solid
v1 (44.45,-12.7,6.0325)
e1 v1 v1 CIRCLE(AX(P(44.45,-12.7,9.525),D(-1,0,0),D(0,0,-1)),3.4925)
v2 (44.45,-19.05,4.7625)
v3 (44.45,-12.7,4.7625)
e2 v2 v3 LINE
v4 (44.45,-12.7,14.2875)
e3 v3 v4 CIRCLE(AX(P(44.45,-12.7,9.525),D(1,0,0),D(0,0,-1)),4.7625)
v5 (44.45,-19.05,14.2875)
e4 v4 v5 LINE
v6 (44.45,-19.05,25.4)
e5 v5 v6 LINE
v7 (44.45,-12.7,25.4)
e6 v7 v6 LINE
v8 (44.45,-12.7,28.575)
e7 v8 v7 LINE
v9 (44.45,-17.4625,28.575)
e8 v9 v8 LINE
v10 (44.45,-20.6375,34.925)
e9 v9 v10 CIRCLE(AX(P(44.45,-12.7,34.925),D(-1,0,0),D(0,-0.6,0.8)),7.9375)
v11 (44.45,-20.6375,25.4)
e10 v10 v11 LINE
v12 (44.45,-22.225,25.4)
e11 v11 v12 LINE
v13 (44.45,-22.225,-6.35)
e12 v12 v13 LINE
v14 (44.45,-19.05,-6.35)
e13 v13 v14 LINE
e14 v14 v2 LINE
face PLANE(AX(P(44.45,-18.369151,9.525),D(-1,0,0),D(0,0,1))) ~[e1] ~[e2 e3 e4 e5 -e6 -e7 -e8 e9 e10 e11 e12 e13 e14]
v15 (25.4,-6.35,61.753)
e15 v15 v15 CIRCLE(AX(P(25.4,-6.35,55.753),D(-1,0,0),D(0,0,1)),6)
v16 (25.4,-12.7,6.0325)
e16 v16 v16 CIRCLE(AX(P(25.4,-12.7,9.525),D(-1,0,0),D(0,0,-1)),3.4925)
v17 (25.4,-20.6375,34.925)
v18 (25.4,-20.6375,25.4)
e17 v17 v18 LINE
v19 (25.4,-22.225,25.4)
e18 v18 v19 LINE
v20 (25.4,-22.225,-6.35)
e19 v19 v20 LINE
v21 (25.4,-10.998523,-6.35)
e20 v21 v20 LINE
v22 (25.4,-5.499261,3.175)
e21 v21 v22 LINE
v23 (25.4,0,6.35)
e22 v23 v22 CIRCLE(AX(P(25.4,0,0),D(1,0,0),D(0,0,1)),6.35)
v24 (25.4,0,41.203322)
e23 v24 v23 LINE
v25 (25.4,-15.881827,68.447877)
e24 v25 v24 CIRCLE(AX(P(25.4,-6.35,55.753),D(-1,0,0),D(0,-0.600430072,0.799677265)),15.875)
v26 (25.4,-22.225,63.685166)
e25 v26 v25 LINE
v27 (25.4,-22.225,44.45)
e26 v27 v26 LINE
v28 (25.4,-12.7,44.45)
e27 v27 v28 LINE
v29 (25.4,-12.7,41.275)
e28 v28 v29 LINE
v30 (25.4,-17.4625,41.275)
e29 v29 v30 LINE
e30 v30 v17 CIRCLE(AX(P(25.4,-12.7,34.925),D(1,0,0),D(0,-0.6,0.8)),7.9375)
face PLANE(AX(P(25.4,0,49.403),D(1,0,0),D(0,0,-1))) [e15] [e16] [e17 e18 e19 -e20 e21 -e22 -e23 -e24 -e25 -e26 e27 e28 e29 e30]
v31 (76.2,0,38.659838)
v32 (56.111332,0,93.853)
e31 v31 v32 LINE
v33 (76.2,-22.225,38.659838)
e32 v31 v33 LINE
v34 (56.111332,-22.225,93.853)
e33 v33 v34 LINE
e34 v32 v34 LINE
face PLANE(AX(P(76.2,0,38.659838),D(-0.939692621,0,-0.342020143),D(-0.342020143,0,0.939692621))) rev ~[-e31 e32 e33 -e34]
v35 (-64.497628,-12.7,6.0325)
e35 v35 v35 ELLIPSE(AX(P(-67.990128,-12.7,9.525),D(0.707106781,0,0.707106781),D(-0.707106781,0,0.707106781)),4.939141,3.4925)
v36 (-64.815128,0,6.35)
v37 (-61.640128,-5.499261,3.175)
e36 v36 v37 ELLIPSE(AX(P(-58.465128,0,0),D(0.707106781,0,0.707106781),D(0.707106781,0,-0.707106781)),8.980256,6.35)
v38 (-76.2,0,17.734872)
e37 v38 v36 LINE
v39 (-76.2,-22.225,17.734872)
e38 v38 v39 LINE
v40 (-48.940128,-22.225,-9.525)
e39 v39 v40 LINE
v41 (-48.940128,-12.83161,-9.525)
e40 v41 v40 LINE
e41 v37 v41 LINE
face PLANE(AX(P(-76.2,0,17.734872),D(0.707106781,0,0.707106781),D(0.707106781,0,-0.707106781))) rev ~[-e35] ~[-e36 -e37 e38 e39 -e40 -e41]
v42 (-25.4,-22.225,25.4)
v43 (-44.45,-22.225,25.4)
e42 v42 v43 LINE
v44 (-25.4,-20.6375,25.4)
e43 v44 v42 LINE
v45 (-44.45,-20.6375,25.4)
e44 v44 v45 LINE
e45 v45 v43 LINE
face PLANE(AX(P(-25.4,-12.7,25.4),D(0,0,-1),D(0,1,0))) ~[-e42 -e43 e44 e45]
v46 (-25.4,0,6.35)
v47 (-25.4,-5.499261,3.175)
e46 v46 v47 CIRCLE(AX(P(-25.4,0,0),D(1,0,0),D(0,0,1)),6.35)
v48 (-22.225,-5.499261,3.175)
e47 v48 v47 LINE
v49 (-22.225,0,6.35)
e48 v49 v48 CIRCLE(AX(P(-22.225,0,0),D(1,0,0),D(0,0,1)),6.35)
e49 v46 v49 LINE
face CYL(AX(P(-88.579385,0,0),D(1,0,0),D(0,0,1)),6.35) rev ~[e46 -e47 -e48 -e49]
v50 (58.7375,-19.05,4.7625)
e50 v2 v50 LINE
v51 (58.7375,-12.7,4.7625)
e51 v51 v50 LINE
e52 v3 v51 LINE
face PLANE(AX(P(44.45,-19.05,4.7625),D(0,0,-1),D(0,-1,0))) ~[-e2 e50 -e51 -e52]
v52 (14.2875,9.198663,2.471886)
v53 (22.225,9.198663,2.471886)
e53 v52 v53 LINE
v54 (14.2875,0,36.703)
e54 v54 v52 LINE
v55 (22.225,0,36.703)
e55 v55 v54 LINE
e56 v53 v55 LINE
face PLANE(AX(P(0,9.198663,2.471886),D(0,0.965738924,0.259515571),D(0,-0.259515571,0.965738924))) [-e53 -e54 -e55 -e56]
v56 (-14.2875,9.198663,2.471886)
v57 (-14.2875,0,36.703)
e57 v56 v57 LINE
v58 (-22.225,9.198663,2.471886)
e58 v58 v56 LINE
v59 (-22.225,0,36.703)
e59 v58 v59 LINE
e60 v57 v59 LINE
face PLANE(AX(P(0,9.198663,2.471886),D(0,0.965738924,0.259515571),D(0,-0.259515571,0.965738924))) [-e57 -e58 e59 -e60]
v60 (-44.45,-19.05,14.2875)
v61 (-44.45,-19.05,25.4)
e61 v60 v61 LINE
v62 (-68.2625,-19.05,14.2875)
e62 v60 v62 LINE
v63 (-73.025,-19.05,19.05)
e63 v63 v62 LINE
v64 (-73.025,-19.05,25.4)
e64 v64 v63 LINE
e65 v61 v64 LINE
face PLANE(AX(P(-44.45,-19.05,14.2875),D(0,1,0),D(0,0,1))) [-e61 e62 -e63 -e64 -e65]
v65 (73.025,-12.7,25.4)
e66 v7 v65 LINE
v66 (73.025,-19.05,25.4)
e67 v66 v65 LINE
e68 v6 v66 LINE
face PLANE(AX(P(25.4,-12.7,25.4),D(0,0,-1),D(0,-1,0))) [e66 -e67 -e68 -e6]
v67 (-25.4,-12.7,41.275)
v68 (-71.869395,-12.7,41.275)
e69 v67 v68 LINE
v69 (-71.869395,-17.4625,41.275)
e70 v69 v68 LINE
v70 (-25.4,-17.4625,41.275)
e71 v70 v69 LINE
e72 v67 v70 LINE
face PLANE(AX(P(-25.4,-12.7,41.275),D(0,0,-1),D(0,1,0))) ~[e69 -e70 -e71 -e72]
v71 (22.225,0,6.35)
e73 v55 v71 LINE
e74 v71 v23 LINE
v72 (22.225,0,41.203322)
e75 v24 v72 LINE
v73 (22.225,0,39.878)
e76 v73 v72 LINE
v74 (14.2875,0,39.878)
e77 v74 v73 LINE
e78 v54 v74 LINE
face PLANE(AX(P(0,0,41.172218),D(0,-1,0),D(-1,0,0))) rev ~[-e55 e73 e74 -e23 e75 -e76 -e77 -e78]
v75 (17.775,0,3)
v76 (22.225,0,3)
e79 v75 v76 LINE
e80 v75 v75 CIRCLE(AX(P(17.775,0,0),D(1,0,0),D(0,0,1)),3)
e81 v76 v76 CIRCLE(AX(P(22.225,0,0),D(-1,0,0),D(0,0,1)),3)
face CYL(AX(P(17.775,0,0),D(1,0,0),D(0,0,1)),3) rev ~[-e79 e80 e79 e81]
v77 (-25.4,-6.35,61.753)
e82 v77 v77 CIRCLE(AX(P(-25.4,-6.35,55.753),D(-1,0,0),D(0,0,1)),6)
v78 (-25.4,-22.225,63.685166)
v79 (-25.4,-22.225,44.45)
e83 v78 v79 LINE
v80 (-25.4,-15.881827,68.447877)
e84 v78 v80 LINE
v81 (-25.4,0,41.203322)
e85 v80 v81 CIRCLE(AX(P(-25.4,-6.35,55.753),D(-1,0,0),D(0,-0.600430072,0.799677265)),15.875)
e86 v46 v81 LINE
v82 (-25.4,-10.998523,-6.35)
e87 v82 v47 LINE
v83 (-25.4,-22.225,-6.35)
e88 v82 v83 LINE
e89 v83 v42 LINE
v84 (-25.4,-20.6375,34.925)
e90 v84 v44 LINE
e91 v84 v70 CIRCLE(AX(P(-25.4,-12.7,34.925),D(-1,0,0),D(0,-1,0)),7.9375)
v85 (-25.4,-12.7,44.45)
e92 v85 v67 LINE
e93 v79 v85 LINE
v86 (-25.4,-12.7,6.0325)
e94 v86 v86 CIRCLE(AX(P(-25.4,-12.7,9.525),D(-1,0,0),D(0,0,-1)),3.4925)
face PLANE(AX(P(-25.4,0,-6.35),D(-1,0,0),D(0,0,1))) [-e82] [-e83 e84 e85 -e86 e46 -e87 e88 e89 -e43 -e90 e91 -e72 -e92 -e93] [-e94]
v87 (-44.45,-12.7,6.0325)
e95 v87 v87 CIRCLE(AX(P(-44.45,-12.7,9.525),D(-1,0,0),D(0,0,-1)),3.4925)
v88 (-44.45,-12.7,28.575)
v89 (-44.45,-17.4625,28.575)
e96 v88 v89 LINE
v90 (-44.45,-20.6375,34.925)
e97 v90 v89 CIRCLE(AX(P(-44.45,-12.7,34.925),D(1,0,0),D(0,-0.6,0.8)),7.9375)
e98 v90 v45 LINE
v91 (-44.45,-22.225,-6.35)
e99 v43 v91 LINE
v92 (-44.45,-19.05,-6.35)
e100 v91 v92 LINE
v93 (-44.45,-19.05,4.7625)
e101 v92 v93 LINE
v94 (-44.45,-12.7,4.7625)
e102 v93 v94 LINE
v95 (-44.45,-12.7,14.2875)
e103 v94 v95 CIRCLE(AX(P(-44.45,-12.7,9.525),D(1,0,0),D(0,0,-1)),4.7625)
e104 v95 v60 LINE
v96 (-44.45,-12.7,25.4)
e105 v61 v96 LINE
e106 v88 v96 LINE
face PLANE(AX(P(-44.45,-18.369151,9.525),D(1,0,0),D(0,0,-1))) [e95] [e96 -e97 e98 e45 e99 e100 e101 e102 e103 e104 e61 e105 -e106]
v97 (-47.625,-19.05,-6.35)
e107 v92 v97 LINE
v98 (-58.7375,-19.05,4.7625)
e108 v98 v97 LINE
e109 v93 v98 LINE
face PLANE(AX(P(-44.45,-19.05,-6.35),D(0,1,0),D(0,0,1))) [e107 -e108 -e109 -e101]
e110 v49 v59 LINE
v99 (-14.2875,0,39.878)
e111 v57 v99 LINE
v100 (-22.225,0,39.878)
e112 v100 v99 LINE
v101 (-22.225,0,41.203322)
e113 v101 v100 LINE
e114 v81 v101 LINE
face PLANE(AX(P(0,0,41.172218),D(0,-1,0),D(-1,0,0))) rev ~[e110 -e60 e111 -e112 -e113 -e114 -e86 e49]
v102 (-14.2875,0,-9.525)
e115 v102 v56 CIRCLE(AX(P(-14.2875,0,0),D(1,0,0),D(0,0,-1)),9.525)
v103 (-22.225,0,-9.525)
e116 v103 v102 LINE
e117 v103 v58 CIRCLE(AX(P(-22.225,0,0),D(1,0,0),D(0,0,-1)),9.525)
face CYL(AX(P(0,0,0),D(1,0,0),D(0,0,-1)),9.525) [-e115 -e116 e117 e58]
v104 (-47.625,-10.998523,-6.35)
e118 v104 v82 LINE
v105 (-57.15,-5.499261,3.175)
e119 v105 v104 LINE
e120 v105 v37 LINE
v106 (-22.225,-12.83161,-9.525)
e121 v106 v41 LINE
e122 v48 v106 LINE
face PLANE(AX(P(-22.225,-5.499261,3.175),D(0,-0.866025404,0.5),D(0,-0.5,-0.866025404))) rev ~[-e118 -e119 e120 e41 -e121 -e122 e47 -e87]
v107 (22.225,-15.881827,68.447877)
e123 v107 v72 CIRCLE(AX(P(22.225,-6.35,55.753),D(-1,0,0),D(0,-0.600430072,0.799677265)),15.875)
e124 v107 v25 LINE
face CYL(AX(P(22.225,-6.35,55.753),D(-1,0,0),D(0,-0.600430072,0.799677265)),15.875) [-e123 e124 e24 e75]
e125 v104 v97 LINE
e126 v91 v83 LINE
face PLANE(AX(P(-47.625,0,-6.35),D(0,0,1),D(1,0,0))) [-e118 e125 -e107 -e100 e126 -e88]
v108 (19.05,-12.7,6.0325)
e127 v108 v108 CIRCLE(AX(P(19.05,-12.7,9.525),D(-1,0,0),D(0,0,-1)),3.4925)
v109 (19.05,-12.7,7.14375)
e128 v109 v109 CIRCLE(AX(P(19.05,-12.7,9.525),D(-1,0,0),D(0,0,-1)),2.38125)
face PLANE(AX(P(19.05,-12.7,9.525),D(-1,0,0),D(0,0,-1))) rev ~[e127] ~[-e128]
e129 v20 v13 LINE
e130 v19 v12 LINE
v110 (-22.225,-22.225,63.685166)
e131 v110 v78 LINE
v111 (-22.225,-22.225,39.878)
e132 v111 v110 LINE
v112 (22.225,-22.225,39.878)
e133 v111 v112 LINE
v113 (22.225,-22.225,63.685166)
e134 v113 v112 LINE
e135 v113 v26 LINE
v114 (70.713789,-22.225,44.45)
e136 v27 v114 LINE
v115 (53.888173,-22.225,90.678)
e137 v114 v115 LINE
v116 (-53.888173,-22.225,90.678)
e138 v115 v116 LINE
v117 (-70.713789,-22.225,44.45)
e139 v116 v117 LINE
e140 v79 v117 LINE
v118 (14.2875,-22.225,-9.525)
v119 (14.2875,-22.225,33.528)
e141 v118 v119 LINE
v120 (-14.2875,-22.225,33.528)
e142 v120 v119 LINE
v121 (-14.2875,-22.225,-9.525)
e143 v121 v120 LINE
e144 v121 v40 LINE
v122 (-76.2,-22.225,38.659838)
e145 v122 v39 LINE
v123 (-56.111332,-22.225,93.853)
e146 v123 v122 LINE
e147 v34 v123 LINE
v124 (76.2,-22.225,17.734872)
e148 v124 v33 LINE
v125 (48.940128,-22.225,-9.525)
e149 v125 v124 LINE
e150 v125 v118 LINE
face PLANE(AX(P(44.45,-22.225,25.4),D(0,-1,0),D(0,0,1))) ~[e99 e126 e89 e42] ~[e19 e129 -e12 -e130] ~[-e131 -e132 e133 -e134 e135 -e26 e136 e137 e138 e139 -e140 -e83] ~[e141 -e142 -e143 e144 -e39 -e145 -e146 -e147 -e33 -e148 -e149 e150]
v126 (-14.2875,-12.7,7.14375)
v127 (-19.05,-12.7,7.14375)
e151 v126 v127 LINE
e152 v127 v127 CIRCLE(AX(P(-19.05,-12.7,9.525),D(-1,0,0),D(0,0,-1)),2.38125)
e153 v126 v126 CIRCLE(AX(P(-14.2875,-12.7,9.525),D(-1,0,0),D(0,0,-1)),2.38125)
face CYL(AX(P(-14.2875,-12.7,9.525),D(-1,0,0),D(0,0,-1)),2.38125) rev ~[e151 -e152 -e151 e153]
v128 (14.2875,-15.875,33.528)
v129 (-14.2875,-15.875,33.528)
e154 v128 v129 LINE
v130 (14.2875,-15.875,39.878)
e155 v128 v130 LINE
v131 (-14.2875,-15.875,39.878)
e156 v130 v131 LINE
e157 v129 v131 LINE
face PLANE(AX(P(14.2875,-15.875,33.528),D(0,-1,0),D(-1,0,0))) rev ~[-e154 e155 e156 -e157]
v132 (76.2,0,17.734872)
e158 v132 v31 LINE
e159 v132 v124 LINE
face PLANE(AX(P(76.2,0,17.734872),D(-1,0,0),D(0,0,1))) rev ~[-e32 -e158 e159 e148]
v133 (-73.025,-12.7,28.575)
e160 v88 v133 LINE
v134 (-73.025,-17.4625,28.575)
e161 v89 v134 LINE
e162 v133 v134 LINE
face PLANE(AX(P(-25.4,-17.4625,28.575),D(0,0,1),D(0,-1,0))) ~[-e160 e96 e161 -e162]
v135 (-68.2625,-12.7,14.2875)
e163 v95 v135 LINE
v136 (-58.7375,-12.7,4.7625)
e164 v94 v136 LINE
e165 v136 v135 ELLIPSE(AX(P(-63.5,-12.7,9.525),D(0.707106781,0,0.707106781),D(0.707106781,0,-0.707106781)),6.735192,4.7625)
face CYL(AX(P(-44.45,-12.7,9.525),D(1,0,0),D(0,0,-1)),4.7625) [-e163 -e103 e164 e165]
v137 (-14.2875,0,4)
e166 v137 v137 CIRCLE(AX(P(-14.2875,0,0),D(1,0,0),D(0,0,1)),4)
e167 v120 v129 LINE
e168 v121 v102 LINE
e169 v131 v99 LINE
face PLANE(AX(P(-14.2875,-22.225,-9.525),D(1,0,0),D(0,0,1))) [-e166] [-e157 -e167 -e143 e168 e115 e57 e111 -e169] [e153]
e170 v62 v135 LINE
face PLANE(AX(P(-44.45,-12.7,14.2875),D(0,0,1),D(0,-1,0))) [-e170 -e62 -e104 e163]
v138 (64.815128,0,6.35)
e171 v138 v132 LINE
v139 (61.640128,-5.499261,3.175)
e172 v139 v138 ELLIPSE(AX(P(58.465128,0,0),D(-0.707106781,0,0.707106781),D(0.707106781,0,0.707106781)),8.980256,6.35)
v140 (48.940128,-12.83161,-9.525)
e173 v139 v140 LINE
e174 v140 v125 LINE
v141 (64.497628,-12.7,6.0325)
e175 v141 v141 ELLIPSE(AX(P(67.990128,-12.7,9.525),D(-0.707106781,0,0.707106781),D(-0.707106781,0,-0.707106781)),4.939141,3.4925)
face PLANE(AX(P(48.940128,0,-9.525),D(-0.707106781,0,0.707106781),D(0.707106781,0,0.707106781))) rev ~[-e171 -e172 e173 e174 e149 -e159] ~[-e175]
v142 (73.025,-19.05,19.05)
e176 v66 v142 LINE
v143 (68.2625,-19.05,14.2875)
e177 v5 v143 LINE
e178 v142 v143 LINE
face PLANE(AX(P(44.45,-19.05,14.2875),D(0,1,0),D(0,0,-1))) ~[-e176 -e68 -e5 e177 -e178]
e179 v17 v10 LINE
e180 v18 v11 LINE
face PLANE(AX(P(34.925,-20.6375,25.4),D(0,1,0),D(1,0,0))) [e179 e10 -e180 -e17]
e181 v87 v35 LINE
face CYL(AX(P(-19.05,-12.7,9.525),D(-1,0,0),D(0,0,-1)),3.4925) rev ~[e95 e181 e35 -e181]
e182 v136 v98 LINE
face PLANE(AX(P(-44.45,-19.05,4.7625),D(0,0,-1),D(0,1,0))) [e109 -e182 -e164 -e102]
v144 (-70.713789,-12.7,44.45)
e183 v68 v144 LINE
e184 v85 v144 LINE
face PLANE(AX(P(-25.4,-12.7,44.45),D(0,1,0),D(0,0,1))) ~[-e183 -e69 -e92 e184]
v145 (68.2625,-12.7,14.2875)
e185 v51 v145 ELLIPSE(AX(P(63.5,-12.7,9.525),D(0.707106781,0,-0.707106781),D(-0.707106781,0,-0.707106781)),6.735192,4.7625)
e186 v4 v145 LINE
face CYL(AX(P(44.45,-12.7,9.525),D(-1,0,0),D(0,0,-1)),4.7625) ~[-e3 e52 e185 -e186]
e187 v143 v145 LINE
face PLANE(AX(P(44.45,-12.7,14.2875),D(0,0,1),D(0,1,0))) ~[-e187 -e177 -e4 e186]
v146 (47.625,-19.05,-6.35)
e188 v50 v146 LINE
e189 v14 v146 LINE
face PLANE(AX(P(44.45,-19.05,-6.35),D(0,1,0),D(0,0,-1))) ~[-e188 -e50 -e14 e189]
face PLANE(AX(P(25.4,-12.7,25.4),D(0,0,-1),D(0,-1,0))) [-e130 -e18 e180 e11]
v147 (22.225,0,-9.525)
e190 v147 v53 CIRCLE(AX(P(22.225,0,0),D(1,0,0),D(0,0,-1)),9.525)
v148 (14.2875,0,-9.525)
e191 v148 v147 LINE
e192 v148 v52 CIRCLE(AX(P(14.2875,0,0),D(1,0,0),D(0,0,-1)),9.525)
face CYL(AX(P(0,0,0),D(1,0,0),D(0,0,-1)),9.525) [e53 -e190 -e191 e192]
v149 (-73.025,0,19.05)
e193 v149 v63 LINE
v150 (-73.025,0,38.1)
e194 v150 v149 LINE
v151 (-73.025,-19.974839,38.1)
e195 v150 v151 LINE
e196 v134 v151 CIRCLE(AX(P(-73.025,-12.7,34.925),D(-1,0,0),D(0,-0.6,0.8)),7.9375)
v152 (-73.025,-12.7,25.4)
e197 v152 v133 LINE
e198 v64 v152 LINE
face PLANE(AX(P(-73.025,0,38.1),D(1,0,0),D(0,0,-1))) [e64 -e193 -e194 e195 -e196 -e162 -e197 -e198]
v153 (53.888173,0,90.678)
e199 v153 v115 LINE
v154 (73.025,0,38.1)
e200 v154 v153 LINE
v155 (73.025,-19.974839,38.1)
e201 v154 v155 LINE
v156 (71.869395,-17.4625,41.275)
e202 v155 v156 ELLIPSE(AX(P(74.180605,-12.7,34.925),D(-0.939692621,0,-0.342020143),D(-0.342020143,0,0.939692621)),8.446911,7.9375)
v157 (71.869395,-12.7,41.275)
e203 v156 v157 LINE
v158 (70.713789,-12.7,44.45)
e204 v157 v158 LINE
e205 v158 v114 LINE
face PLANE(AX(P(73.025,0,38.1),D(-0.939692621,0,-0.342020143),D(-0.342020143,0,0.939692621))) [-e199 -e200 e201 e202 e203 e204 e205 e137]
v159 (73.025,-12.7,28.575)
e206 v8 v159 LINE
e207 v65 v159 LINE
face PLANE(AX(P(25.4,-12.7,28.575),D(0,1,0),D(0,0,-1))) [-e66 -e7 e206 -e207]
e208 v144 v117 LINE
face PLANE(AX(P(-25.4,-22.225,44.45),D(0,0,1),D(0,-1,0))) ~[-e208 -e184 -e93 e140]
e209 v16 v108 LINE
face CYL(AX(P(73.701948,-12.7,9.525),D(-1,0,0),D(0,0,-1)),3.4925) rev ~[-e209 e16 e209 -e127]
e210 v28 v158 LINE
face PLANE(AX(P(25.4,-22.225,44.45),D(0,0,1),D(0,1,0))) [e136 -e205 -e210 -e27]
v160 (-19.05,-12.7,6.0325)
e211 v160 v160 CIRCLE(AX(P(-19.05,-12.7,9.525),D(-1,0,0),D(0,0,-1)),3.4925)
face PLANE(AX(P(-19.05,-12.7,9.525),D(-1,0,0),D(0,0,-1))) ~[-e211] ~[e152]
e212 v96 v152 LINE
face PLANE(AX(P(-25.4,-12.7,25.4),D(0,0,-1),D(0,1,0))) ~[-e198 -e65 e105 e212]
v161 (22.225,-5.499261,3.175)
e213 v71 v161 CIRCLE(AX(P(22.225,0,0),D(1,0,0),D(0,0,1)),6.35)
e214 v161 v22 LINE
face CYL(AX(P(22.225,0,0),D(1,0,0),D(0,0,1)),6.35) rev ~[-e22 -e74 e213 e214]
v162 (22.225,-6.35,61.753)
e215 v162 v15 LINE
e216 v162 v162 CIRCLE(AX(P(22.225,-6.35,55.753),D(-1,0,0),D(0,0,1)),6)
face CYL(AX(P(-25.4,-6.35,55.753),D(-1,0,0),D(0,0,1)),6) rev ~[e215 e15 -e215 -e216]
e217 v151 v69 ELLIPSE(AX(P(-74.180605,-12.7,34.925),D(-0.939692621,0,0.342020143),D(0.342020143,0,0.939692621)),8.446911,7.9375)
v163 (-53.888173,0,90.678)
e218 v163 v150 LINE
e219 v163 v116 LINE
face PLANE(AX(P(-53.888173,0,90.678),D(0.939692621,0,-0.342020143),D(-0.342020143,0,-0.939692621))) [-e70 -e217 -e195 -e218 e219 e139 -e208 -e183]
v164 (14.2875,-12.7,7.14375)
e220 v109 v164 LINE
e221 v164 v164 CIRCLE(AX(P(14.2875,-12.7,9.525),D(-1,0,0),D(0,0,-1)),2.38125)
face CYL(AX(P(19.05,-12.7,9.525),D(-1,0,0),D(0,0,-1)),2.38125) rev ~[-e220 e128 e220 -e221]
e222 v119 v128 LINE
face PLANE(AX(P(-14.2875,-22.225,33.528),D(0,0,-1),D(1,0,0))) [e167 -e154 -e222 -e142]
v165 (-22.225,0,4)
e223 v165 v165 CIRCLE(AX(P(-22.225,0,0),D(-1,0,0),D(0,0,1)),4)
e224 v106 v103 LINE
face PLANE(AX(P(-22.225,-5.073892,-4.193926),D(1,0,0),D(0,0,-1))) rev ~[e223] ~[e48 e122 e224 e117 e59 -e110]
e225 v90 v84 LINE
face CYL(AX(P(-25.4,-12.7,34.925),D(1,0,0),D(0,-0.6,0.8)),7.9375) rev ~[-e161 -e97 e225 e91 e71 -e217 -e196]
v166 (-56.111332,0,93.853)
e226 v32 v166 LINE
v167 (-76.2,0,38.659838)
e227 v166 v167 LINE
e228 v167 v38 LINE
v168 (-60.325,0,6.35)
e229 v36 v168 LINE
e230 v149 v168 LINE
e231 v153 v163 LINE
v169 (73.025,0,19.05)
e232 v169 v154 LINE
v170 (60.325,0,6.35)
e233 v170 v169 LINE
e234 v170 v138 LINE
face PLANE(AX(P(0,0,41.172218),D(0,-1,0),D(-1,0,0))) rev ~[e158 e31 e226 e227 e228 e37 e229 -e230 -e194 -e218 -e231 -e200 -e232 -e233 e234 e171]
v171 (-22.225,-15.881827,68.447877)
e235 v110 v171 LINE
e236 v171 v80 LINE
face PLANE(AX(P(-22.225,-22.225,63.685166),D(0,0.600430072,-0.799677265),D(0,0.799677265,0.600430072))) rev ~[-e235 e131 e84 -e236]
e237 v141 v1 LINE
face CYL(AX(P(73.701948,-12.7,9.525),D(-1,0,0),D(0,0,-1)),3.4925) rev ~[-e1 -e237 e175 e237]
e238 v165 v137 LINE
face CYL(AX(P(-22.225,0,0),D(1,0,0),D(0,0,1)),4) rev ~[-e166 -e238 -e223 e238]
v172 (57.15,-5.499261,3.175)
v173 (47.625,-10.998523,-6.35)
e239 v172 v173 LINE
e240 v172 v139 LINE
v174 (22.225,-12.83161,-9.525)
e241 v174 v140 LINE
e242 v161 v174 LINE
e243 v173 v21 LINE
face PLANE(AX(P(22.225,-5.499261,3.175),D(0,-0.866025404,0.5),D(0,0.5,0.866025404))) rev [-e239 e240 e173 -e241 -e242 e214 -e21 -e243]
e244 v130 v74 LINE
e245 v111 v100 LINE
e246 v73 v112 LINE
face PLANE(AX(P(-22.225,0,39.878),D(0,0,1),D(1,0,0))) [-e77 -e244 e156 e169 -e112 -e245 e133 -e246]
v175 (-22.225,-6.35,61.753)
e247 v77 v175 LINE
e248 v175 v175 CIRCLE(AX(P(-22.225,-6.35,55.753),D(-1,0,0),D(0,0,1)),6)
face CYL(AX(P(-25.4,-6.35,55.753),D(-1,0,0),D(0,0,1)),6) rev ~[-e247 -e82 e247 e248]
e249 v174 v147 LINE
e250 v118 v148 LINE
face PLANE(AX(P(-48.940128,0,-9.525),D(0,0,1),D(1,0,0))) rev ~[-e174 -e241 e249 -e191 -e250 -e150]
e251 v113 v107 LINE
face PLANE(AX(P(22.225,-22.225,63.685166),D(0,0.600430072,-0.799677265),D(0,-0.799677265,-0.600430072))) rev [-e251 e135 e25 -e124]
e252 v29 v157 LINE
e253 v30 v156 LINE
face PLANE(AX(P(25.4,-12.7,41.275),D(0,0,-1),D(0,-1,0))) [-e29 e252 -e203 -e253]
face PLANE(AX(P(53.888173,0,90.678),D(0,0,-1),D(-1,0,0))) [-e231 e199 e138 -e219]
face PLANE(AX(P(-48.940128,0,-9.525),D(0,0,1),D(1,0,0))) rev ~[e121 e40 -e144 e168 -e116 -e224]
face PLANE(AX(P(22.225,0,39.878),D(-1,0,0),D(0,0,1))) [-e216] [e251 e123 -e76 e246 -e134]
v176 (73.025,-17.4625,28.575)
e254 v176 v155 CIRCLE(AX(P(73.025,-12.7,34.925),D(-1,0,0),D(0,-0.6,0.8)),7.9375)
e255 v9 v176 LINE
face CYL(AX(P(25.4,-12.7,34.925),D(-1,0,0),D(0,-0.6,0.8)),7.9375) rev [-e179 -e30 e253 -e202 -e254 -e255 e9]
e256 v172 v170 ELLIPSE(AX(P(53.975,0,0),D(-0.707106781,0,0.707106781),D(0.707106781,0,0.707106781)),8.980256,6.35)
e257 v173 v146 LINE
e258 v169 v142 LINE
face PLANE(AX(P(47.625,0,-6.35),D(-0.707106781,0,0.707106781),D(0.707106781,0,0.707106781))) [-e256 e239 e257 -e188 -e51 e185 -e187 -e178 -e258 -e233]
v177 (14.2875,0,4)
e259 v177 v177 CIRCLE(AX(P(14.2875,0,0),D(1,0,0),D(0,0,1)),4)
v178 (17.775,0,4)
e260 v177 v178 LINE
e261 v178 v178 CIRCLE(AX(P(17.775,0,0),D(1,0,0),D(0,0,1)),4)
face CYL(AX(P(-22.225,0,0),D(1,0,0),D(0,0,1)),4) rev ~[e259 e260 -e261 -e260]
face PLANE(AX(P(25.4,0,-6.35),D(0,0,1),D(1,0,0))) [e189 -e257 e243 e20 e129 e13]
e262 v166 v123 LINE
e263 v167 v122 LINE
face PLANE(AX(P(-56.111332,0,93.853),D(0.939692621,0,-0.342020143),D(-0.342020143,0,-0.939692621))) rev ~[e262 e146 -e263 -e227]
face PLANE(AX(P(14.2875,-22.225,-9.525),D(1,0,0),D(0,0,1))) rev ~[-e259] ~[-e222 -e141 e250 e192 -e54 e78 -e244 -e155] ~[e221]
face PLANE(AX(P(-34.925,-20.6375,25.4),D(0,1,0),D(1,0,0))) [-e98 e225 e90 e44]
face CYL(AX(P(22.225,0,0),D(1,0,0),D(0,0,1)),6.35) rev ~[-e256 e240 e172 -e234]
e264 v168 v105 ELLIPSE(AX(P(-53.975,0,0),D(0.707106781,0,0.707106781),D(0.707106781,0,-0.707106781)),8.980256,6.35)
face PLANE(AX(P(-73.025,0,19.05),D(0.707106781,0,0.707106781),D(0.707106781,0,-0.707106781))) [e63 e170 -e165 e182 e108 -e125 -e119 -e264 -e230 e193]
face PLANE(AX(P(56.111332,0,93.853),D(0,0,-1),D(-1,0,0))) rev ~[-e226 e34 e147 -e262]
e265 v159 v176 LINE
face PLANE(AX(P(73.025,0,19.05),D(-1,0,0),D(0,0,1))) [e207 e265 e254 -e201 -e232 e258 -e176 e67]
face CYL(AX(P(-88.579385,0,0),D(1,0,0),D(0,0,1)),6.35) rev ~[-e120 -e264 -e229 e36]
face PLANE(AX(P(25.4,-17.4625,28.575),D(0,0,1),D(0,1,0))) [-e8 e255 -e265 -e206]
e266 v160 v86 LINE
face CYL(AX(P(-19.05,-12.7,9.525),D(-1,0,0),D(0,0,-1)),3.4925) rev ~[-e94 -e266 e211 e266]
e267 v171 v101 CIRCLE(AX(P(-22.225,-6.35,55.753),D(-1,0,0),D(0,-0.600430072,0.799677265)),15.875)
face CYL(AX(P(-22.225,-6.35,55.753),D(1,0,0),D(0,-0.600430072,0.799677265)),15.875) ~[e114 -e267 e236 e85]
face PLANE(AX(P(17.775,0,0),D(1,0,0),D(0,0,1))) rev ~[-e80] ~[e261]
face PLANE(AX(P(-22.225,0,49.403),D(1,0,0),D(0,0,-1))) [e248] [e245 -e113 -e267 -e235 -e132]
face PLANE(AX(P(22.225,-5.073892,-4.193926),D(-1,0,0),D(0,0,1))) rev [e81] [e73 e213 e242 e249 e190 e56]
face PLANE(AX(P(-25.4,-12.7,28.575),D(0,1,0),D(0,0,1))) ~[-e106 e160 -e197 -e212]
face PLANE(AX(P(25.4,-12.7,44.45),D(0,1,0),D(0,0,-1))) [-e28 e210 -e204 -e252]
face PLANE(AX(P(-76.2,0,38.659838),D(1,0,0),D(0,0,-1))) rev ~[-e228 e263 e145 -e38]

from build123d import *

# Parameters (mm, degrees)
BOSS_EXTRUDE1_DEPTH = 22.225
BOSS_EXTRUDE2_DEPTH = 22.225
SKETCH4_W           = 28.575
SKETCH4_H           = 43.053
CUT_EXTRUDE1_DEPTH  = 125.991552151
CUT_EXTRUDE4_REACH  = 101.697
SKETCH9_W           = 28.575
SKETCH9_H           = 16.728193257
BOSS_EXTRUDE3_REACH = 142.089
SKETCH11_W          = 19.05
SKETCH11_H          = 19.05
CUT_EXTRUDE5_DEPTH  = 7.9375
BOSS_EXTRUDE6_REACH = 156.463
BOSS_EXTRUDE4_DEPTH = 3.175
CUT_EXTRUDE6_REACH  = 142.089
SKETCH19_R          = 6
CUT_EXTRUDE7_DEPTH  = 138.803544436


with BuildPart() as part:
    # Sketch1 → Boss-Extrude1 (new, symmetric)
    with BuildSketch(Plane(origin=(0, 0, 0), x_dir=(0, 0, -1), z_dir=(1, 0, 0))):
        with BuildLine():
            Line((9.525, -22.225), (9.525, 0))
            ThreePointArc((9.525, 0), (5.795727419, 7.558780899), (-2.471885813, 9.198663247))
            Line((-2.471885813, 9.198663247), (-36.703, 0))
            Line((-36.703, 0), (-36.703, -22.225))
            Line((-36.703, -22.225), (9.525, -22.225))
        make_face()
    extrude(amount=BOSS_EXTRUDE1_DEPTH, both=True)

    # Sketch3 → Boss-Extrude2 (add)
    with BuildSketch(Plane(origin=(0, 0, 0), x_dir=(-1, 0, 0), z_dir=(0, -1, 0))):
        Polygon((22.225, 9.525), (22.225, -36.703), (-22.225, -36.703), (-22.225, 9.525), (-48.940128061, 9.525), (-76.2, -17.734871939), (-76.2, -38.659838164), (-56.111331957, -93.853), (56.111331957, -93.853), (76.2, -38.659838164), (76.2, -17.734871939), (48.940128061, 9.525), align=None)
        Polygon((73.025, -19.05), (47.625, 6.35), (25.4, 6.35), (25.4, -49.403), (22.225, -49.403), (22.225, -39.878), (-22.225, -39.878), (-22.225, -49.403), (-25.4, -49.403), (-25.4, 6.35), (-47.625, 6.35), (-73.025, -19.05), (-73.025, -38.1), (-53.888173023, -90.678), (53.888173023, -90.678), (73.025, -38.1), align=None, mode=Mode.SUBTRACT)
    extrude(amount=BOSS_EXTRUDE2_DEPTH)

    # Sketch4 → Cut-Extrude1 (cut, through all)
    with BuildSketch(Plane.XZ.offset(22.225)):
        with Locations((0, 12.0015)):
            Rectangle(SKETCH4_W, SKETCH4_H)
    extrude(amount=-CUT_EXTRUDE1_DEPTH, mode=Mode.SUBTRACT)

    # Sketch6 → Cut-Revolve1 (revolve, cut)
    with BuildSketch(Plane(origin=(0, 0, 0), x_dir=(1, 0, 0), z_dir=(0, 1, 0)), mode=Mode.PRIVATE) as cut_revolve1_sk:
        Polygon((-22.225, 4), (17.775, 4), (17.775, 3), (22.225, 3), (22.225, 6.35), (78.807413882, 6.35), (78.807413882, 0), (22.225, 0), (-22.225, 0), (-88.579385408, 0), (-88.579385408, 6.35), (-22.225, 6.35), align=None)
    revolve(cut_revolve1_sk.sketch.rotate(Axis((-22.225, 0, 0), (1, 0, 0)), 180), axis=Axis((-22.225, 0, 0), (1, 0, 0)), mode=Mode.SUBTRACT)

    # Sketch9 → Cut-Extrude4 (cut, up to next)
    with BuildSketch(Plane(origin=(0, 0, 33.528), x_dir=(-1, 0, 0), z_dir=(0, 0, -1)), mode=Mode.PRIVATE) as cut_extrude4_sk1:
        with Locations((0, -7.510903372)):
            Rectangle(SKETCH9_W, SKETCH9_H)
    cut_extrude4_tool1 = extrude(cut_extrude4_sk1.sketch, amount=-CUT_EXTRUDE4_REACH, mode=Mode.PRIVATE) & part.part
    add(cut_extrude4_tool1.solids().sort_by_distance((0, -7.510903, 33.528))[0], mode=Mode.SUBTRACT)

    # Sketch10 → Boss-Extrude3 (add, up to next)
    with BuildSketch(Plane(origin=(25.4, 0, 0), x_dir=(0, 0, -1), z_dir=(1, 0, 0)), mode=Mode.PRIVATE) as boss_extrude3_sk1:
        with BuildLine():
            Line((-28.575, -17.4625), (-28.575, -12.7))
            Line((-28.575, -12.7), (-25.4, -12.7))
            Line((-25.4, -12.7), (-25.4, -22.225))
            Line((-25.4, -22.225), (-44.45, -22.225))
            Line((-44.45, -22.225), (-44.45, -12.7))
            Line((-44.45, -12.7), (-41.275, -12.7))
            Line((-41.275, -12.7), (-41.275, -17.4625))
            ThreePointArc((-41.275, -17.4625), (-34.925, -20.6375), (-28.575, -17.4625))
        make_face()
    boss_extrude3_tool1 = extrude(boss_extrude3_sk1.sketch, amount=BOSS_EXTRUDE3_REACH, mode=Mode.PRIVATE) - part.part
    boss_extrude3 = boss_extrude3_tool1.solids().sort_by_distance((25.4, -15.08125, 28.362015))[0]
    add(boss_extrude3)

    # Mirror1: Boss-Extrude3 across plane
    add(boss_extrude3.mirror(Plane(origin=(0, 0, 0), x_dir=(0, 0, 1), z_dir=(1, 0, 0))))

    # Sketch11 → Cut-Extrude5 (cut)
    with BuildSketch(Plane(origin=(0, -12.7, 0), x_dir=(1, 0, 0), z_dir=(0, 1, 0))):
        with Locations((-34.925, -25.4)):
            Rectangle(SKETCH11_W, SKETCH11_H)
        with Locations((34.925, -25.4)):
            Rectangle(SKETCH11_W, SKETCH11_H)
    extrude(amount=-CUT_EXTRUDE5_DEPTH, mode=Mode.SUBTRACT)

    # Sketch18 → Boss-Extrude6 (add, up to next)
    with BuildSketch(Plane(origin=(-44.45, 0, 0), x_dir=(0, 0, -1), z_dir=(1, 0, 0)), mode=Mode.PRIVATE) as boss_extrude6_sk1:
        with BuildLine():
            Line((-25.4, -22.225), (6.35, -22.225))
            Line((6.35, -22.225), (6.35, -19.05))
            Line((6.35, -19.05), (-4.7625, -19.05))
            Line((-4.7625, -19.05), (-4.7625, -12.7))
            ThreePointArc((-4.7625, -12.7), (-9.525, -7.9375), (-14.2875, -12.7))
            Line((-14.2875, -12.7), (-14.2875, -19.05))
            Line((-14.2875, -19.05), (-25.4, -19.05))
            Line((-25.4, -19.05), (-25.4, -22.225))
        make_face()
    boss_extrude6_tool1 = extrude(boss_extrude6_sk1.sketch, amount=-BOSS_EXTRUDE6_REACH, mode=Mode.PRIVATE) - part.part
    boss_extrude6 = boss_extrude6_tool1.solids().sort_by_distance((-44.45, -17.372872, 9.525))[0]
    add(boss_extrude6)

    # Mirror3: Boss-Extrude6 across plane
    add(boss_extrude6.mirror(Plane(origin=(0, 0, 0), x_dir=(0, 0, 1), z_dir=(1, 0, 0))))

    # Sketch14 → Cut-Revolve2 (revolve, cut)
    with BuildSketch(Plane(origin=(0, -12.7, 0), x_dir=(-1, 0, 0), z_dir=(0, -1, 0))):
        Polygon((-73.701947692, -6.0325), (-19.05, -6.0325), (-19.05, -7.14375), (-14.2875, -7.14375), (-14.2875, -9.525), (-73.701947692, -9.525), align=None)
        Polygon((14.2875, -9.525), (14.2875, -7.14375), (19.05, -7.14375), (19.05, -6.0325), (73.701947692, -6.0325), (73.701947692, -9.525), align=None)
    revolve(axis=Axis((73.701947692, -12.7, 9.525), (-1, 0, 0)), mode=Mode.SUBTRACT)

    # Sketch15 → Boss-Extrude4 (add)
    with BuildSketch(Plane(origin=(-22.225, 0, 0), x_dir=(0, 0, -1), z_dir=(1, 0, 0))):
        with BuildLine():
            Line((-39.878, -22.225), (-63.685165738, -22.225))
            Line((-63.685165738, -22.225), (-68.447876585, -15.881827396))
            ThreePointArc((-68.447876585, -15.881827396), (-60.777164568, 8.708997158), (-39.878, -6.35))
            Line((-39.878, -6.35), (-39.878, -22.225))
        make_face()
    boss_extrude4 = extrude(amount=-BOSS_EXTRUDE4_DEPTH)

    # Mirror2: Boss-Extrude4 across plane
    add(boss_extrude4.mirror(Plane(origin=(0, 0, 0), x_dir=(0, 0, 1), z_dir=(1, 0, 0))))

    # Cut-Extrude6: up to this face of the body (flat: up to its plane)
    cut_extrude6_end = Plane(part.part.faces().sort_by_distance((25.4, -9.178544074, 35.806928902))[0])
    # Sketch19 → Cut-Extrude6 (cut, up to the picked face)
    with BuildSketch(Plane.ZY.offset(25.4), mode=Mode.PRIVATE) as cut_extrude6_sk1:
        with Locations((55.753, -6.35)):
            Circle(SKETCH19_R)
    cut_extrude6_tool1 = split(extrude(cut_extrude6_sk1.sketch, amount=-CUT_EXTRUDE6_REACH, mode=Mode.PRIVATE), bisect_by=cut_extrude6_end, keep=Keep.BOTH, mode=Mode.PRIVATE)
    add(cut_extrude6_tool1.solids().sort_by(Axis((-25.4, -6.35, 55.753), (1, 0, 0)))[0], mode=Mode.SUBTRACT)

    # Sketch20 → Cut-Extrude7 (cut, through all)
    with BuildSketch(Plane.ZY.offset(22.225)):
        Polygon((3.175, -5.499261314), (-9.525, -12.831609733), (-9.525, 0), (3.175, 0), align=None)
    cut_extrude7 = extrude(amount=CUT_EXTRUDE7_DEPTH, mode=Mode.SUBTRACT)

    # Mirror4: Cut-Extrude7 across plane
    add(cut_extrude7.mirror(Plane(origin=(0, 0, 0), x_dir=(0, 0, 1), z_dir=(1, 0, 0))), mode=Mode.SUBTRACT)


solid = part.part
